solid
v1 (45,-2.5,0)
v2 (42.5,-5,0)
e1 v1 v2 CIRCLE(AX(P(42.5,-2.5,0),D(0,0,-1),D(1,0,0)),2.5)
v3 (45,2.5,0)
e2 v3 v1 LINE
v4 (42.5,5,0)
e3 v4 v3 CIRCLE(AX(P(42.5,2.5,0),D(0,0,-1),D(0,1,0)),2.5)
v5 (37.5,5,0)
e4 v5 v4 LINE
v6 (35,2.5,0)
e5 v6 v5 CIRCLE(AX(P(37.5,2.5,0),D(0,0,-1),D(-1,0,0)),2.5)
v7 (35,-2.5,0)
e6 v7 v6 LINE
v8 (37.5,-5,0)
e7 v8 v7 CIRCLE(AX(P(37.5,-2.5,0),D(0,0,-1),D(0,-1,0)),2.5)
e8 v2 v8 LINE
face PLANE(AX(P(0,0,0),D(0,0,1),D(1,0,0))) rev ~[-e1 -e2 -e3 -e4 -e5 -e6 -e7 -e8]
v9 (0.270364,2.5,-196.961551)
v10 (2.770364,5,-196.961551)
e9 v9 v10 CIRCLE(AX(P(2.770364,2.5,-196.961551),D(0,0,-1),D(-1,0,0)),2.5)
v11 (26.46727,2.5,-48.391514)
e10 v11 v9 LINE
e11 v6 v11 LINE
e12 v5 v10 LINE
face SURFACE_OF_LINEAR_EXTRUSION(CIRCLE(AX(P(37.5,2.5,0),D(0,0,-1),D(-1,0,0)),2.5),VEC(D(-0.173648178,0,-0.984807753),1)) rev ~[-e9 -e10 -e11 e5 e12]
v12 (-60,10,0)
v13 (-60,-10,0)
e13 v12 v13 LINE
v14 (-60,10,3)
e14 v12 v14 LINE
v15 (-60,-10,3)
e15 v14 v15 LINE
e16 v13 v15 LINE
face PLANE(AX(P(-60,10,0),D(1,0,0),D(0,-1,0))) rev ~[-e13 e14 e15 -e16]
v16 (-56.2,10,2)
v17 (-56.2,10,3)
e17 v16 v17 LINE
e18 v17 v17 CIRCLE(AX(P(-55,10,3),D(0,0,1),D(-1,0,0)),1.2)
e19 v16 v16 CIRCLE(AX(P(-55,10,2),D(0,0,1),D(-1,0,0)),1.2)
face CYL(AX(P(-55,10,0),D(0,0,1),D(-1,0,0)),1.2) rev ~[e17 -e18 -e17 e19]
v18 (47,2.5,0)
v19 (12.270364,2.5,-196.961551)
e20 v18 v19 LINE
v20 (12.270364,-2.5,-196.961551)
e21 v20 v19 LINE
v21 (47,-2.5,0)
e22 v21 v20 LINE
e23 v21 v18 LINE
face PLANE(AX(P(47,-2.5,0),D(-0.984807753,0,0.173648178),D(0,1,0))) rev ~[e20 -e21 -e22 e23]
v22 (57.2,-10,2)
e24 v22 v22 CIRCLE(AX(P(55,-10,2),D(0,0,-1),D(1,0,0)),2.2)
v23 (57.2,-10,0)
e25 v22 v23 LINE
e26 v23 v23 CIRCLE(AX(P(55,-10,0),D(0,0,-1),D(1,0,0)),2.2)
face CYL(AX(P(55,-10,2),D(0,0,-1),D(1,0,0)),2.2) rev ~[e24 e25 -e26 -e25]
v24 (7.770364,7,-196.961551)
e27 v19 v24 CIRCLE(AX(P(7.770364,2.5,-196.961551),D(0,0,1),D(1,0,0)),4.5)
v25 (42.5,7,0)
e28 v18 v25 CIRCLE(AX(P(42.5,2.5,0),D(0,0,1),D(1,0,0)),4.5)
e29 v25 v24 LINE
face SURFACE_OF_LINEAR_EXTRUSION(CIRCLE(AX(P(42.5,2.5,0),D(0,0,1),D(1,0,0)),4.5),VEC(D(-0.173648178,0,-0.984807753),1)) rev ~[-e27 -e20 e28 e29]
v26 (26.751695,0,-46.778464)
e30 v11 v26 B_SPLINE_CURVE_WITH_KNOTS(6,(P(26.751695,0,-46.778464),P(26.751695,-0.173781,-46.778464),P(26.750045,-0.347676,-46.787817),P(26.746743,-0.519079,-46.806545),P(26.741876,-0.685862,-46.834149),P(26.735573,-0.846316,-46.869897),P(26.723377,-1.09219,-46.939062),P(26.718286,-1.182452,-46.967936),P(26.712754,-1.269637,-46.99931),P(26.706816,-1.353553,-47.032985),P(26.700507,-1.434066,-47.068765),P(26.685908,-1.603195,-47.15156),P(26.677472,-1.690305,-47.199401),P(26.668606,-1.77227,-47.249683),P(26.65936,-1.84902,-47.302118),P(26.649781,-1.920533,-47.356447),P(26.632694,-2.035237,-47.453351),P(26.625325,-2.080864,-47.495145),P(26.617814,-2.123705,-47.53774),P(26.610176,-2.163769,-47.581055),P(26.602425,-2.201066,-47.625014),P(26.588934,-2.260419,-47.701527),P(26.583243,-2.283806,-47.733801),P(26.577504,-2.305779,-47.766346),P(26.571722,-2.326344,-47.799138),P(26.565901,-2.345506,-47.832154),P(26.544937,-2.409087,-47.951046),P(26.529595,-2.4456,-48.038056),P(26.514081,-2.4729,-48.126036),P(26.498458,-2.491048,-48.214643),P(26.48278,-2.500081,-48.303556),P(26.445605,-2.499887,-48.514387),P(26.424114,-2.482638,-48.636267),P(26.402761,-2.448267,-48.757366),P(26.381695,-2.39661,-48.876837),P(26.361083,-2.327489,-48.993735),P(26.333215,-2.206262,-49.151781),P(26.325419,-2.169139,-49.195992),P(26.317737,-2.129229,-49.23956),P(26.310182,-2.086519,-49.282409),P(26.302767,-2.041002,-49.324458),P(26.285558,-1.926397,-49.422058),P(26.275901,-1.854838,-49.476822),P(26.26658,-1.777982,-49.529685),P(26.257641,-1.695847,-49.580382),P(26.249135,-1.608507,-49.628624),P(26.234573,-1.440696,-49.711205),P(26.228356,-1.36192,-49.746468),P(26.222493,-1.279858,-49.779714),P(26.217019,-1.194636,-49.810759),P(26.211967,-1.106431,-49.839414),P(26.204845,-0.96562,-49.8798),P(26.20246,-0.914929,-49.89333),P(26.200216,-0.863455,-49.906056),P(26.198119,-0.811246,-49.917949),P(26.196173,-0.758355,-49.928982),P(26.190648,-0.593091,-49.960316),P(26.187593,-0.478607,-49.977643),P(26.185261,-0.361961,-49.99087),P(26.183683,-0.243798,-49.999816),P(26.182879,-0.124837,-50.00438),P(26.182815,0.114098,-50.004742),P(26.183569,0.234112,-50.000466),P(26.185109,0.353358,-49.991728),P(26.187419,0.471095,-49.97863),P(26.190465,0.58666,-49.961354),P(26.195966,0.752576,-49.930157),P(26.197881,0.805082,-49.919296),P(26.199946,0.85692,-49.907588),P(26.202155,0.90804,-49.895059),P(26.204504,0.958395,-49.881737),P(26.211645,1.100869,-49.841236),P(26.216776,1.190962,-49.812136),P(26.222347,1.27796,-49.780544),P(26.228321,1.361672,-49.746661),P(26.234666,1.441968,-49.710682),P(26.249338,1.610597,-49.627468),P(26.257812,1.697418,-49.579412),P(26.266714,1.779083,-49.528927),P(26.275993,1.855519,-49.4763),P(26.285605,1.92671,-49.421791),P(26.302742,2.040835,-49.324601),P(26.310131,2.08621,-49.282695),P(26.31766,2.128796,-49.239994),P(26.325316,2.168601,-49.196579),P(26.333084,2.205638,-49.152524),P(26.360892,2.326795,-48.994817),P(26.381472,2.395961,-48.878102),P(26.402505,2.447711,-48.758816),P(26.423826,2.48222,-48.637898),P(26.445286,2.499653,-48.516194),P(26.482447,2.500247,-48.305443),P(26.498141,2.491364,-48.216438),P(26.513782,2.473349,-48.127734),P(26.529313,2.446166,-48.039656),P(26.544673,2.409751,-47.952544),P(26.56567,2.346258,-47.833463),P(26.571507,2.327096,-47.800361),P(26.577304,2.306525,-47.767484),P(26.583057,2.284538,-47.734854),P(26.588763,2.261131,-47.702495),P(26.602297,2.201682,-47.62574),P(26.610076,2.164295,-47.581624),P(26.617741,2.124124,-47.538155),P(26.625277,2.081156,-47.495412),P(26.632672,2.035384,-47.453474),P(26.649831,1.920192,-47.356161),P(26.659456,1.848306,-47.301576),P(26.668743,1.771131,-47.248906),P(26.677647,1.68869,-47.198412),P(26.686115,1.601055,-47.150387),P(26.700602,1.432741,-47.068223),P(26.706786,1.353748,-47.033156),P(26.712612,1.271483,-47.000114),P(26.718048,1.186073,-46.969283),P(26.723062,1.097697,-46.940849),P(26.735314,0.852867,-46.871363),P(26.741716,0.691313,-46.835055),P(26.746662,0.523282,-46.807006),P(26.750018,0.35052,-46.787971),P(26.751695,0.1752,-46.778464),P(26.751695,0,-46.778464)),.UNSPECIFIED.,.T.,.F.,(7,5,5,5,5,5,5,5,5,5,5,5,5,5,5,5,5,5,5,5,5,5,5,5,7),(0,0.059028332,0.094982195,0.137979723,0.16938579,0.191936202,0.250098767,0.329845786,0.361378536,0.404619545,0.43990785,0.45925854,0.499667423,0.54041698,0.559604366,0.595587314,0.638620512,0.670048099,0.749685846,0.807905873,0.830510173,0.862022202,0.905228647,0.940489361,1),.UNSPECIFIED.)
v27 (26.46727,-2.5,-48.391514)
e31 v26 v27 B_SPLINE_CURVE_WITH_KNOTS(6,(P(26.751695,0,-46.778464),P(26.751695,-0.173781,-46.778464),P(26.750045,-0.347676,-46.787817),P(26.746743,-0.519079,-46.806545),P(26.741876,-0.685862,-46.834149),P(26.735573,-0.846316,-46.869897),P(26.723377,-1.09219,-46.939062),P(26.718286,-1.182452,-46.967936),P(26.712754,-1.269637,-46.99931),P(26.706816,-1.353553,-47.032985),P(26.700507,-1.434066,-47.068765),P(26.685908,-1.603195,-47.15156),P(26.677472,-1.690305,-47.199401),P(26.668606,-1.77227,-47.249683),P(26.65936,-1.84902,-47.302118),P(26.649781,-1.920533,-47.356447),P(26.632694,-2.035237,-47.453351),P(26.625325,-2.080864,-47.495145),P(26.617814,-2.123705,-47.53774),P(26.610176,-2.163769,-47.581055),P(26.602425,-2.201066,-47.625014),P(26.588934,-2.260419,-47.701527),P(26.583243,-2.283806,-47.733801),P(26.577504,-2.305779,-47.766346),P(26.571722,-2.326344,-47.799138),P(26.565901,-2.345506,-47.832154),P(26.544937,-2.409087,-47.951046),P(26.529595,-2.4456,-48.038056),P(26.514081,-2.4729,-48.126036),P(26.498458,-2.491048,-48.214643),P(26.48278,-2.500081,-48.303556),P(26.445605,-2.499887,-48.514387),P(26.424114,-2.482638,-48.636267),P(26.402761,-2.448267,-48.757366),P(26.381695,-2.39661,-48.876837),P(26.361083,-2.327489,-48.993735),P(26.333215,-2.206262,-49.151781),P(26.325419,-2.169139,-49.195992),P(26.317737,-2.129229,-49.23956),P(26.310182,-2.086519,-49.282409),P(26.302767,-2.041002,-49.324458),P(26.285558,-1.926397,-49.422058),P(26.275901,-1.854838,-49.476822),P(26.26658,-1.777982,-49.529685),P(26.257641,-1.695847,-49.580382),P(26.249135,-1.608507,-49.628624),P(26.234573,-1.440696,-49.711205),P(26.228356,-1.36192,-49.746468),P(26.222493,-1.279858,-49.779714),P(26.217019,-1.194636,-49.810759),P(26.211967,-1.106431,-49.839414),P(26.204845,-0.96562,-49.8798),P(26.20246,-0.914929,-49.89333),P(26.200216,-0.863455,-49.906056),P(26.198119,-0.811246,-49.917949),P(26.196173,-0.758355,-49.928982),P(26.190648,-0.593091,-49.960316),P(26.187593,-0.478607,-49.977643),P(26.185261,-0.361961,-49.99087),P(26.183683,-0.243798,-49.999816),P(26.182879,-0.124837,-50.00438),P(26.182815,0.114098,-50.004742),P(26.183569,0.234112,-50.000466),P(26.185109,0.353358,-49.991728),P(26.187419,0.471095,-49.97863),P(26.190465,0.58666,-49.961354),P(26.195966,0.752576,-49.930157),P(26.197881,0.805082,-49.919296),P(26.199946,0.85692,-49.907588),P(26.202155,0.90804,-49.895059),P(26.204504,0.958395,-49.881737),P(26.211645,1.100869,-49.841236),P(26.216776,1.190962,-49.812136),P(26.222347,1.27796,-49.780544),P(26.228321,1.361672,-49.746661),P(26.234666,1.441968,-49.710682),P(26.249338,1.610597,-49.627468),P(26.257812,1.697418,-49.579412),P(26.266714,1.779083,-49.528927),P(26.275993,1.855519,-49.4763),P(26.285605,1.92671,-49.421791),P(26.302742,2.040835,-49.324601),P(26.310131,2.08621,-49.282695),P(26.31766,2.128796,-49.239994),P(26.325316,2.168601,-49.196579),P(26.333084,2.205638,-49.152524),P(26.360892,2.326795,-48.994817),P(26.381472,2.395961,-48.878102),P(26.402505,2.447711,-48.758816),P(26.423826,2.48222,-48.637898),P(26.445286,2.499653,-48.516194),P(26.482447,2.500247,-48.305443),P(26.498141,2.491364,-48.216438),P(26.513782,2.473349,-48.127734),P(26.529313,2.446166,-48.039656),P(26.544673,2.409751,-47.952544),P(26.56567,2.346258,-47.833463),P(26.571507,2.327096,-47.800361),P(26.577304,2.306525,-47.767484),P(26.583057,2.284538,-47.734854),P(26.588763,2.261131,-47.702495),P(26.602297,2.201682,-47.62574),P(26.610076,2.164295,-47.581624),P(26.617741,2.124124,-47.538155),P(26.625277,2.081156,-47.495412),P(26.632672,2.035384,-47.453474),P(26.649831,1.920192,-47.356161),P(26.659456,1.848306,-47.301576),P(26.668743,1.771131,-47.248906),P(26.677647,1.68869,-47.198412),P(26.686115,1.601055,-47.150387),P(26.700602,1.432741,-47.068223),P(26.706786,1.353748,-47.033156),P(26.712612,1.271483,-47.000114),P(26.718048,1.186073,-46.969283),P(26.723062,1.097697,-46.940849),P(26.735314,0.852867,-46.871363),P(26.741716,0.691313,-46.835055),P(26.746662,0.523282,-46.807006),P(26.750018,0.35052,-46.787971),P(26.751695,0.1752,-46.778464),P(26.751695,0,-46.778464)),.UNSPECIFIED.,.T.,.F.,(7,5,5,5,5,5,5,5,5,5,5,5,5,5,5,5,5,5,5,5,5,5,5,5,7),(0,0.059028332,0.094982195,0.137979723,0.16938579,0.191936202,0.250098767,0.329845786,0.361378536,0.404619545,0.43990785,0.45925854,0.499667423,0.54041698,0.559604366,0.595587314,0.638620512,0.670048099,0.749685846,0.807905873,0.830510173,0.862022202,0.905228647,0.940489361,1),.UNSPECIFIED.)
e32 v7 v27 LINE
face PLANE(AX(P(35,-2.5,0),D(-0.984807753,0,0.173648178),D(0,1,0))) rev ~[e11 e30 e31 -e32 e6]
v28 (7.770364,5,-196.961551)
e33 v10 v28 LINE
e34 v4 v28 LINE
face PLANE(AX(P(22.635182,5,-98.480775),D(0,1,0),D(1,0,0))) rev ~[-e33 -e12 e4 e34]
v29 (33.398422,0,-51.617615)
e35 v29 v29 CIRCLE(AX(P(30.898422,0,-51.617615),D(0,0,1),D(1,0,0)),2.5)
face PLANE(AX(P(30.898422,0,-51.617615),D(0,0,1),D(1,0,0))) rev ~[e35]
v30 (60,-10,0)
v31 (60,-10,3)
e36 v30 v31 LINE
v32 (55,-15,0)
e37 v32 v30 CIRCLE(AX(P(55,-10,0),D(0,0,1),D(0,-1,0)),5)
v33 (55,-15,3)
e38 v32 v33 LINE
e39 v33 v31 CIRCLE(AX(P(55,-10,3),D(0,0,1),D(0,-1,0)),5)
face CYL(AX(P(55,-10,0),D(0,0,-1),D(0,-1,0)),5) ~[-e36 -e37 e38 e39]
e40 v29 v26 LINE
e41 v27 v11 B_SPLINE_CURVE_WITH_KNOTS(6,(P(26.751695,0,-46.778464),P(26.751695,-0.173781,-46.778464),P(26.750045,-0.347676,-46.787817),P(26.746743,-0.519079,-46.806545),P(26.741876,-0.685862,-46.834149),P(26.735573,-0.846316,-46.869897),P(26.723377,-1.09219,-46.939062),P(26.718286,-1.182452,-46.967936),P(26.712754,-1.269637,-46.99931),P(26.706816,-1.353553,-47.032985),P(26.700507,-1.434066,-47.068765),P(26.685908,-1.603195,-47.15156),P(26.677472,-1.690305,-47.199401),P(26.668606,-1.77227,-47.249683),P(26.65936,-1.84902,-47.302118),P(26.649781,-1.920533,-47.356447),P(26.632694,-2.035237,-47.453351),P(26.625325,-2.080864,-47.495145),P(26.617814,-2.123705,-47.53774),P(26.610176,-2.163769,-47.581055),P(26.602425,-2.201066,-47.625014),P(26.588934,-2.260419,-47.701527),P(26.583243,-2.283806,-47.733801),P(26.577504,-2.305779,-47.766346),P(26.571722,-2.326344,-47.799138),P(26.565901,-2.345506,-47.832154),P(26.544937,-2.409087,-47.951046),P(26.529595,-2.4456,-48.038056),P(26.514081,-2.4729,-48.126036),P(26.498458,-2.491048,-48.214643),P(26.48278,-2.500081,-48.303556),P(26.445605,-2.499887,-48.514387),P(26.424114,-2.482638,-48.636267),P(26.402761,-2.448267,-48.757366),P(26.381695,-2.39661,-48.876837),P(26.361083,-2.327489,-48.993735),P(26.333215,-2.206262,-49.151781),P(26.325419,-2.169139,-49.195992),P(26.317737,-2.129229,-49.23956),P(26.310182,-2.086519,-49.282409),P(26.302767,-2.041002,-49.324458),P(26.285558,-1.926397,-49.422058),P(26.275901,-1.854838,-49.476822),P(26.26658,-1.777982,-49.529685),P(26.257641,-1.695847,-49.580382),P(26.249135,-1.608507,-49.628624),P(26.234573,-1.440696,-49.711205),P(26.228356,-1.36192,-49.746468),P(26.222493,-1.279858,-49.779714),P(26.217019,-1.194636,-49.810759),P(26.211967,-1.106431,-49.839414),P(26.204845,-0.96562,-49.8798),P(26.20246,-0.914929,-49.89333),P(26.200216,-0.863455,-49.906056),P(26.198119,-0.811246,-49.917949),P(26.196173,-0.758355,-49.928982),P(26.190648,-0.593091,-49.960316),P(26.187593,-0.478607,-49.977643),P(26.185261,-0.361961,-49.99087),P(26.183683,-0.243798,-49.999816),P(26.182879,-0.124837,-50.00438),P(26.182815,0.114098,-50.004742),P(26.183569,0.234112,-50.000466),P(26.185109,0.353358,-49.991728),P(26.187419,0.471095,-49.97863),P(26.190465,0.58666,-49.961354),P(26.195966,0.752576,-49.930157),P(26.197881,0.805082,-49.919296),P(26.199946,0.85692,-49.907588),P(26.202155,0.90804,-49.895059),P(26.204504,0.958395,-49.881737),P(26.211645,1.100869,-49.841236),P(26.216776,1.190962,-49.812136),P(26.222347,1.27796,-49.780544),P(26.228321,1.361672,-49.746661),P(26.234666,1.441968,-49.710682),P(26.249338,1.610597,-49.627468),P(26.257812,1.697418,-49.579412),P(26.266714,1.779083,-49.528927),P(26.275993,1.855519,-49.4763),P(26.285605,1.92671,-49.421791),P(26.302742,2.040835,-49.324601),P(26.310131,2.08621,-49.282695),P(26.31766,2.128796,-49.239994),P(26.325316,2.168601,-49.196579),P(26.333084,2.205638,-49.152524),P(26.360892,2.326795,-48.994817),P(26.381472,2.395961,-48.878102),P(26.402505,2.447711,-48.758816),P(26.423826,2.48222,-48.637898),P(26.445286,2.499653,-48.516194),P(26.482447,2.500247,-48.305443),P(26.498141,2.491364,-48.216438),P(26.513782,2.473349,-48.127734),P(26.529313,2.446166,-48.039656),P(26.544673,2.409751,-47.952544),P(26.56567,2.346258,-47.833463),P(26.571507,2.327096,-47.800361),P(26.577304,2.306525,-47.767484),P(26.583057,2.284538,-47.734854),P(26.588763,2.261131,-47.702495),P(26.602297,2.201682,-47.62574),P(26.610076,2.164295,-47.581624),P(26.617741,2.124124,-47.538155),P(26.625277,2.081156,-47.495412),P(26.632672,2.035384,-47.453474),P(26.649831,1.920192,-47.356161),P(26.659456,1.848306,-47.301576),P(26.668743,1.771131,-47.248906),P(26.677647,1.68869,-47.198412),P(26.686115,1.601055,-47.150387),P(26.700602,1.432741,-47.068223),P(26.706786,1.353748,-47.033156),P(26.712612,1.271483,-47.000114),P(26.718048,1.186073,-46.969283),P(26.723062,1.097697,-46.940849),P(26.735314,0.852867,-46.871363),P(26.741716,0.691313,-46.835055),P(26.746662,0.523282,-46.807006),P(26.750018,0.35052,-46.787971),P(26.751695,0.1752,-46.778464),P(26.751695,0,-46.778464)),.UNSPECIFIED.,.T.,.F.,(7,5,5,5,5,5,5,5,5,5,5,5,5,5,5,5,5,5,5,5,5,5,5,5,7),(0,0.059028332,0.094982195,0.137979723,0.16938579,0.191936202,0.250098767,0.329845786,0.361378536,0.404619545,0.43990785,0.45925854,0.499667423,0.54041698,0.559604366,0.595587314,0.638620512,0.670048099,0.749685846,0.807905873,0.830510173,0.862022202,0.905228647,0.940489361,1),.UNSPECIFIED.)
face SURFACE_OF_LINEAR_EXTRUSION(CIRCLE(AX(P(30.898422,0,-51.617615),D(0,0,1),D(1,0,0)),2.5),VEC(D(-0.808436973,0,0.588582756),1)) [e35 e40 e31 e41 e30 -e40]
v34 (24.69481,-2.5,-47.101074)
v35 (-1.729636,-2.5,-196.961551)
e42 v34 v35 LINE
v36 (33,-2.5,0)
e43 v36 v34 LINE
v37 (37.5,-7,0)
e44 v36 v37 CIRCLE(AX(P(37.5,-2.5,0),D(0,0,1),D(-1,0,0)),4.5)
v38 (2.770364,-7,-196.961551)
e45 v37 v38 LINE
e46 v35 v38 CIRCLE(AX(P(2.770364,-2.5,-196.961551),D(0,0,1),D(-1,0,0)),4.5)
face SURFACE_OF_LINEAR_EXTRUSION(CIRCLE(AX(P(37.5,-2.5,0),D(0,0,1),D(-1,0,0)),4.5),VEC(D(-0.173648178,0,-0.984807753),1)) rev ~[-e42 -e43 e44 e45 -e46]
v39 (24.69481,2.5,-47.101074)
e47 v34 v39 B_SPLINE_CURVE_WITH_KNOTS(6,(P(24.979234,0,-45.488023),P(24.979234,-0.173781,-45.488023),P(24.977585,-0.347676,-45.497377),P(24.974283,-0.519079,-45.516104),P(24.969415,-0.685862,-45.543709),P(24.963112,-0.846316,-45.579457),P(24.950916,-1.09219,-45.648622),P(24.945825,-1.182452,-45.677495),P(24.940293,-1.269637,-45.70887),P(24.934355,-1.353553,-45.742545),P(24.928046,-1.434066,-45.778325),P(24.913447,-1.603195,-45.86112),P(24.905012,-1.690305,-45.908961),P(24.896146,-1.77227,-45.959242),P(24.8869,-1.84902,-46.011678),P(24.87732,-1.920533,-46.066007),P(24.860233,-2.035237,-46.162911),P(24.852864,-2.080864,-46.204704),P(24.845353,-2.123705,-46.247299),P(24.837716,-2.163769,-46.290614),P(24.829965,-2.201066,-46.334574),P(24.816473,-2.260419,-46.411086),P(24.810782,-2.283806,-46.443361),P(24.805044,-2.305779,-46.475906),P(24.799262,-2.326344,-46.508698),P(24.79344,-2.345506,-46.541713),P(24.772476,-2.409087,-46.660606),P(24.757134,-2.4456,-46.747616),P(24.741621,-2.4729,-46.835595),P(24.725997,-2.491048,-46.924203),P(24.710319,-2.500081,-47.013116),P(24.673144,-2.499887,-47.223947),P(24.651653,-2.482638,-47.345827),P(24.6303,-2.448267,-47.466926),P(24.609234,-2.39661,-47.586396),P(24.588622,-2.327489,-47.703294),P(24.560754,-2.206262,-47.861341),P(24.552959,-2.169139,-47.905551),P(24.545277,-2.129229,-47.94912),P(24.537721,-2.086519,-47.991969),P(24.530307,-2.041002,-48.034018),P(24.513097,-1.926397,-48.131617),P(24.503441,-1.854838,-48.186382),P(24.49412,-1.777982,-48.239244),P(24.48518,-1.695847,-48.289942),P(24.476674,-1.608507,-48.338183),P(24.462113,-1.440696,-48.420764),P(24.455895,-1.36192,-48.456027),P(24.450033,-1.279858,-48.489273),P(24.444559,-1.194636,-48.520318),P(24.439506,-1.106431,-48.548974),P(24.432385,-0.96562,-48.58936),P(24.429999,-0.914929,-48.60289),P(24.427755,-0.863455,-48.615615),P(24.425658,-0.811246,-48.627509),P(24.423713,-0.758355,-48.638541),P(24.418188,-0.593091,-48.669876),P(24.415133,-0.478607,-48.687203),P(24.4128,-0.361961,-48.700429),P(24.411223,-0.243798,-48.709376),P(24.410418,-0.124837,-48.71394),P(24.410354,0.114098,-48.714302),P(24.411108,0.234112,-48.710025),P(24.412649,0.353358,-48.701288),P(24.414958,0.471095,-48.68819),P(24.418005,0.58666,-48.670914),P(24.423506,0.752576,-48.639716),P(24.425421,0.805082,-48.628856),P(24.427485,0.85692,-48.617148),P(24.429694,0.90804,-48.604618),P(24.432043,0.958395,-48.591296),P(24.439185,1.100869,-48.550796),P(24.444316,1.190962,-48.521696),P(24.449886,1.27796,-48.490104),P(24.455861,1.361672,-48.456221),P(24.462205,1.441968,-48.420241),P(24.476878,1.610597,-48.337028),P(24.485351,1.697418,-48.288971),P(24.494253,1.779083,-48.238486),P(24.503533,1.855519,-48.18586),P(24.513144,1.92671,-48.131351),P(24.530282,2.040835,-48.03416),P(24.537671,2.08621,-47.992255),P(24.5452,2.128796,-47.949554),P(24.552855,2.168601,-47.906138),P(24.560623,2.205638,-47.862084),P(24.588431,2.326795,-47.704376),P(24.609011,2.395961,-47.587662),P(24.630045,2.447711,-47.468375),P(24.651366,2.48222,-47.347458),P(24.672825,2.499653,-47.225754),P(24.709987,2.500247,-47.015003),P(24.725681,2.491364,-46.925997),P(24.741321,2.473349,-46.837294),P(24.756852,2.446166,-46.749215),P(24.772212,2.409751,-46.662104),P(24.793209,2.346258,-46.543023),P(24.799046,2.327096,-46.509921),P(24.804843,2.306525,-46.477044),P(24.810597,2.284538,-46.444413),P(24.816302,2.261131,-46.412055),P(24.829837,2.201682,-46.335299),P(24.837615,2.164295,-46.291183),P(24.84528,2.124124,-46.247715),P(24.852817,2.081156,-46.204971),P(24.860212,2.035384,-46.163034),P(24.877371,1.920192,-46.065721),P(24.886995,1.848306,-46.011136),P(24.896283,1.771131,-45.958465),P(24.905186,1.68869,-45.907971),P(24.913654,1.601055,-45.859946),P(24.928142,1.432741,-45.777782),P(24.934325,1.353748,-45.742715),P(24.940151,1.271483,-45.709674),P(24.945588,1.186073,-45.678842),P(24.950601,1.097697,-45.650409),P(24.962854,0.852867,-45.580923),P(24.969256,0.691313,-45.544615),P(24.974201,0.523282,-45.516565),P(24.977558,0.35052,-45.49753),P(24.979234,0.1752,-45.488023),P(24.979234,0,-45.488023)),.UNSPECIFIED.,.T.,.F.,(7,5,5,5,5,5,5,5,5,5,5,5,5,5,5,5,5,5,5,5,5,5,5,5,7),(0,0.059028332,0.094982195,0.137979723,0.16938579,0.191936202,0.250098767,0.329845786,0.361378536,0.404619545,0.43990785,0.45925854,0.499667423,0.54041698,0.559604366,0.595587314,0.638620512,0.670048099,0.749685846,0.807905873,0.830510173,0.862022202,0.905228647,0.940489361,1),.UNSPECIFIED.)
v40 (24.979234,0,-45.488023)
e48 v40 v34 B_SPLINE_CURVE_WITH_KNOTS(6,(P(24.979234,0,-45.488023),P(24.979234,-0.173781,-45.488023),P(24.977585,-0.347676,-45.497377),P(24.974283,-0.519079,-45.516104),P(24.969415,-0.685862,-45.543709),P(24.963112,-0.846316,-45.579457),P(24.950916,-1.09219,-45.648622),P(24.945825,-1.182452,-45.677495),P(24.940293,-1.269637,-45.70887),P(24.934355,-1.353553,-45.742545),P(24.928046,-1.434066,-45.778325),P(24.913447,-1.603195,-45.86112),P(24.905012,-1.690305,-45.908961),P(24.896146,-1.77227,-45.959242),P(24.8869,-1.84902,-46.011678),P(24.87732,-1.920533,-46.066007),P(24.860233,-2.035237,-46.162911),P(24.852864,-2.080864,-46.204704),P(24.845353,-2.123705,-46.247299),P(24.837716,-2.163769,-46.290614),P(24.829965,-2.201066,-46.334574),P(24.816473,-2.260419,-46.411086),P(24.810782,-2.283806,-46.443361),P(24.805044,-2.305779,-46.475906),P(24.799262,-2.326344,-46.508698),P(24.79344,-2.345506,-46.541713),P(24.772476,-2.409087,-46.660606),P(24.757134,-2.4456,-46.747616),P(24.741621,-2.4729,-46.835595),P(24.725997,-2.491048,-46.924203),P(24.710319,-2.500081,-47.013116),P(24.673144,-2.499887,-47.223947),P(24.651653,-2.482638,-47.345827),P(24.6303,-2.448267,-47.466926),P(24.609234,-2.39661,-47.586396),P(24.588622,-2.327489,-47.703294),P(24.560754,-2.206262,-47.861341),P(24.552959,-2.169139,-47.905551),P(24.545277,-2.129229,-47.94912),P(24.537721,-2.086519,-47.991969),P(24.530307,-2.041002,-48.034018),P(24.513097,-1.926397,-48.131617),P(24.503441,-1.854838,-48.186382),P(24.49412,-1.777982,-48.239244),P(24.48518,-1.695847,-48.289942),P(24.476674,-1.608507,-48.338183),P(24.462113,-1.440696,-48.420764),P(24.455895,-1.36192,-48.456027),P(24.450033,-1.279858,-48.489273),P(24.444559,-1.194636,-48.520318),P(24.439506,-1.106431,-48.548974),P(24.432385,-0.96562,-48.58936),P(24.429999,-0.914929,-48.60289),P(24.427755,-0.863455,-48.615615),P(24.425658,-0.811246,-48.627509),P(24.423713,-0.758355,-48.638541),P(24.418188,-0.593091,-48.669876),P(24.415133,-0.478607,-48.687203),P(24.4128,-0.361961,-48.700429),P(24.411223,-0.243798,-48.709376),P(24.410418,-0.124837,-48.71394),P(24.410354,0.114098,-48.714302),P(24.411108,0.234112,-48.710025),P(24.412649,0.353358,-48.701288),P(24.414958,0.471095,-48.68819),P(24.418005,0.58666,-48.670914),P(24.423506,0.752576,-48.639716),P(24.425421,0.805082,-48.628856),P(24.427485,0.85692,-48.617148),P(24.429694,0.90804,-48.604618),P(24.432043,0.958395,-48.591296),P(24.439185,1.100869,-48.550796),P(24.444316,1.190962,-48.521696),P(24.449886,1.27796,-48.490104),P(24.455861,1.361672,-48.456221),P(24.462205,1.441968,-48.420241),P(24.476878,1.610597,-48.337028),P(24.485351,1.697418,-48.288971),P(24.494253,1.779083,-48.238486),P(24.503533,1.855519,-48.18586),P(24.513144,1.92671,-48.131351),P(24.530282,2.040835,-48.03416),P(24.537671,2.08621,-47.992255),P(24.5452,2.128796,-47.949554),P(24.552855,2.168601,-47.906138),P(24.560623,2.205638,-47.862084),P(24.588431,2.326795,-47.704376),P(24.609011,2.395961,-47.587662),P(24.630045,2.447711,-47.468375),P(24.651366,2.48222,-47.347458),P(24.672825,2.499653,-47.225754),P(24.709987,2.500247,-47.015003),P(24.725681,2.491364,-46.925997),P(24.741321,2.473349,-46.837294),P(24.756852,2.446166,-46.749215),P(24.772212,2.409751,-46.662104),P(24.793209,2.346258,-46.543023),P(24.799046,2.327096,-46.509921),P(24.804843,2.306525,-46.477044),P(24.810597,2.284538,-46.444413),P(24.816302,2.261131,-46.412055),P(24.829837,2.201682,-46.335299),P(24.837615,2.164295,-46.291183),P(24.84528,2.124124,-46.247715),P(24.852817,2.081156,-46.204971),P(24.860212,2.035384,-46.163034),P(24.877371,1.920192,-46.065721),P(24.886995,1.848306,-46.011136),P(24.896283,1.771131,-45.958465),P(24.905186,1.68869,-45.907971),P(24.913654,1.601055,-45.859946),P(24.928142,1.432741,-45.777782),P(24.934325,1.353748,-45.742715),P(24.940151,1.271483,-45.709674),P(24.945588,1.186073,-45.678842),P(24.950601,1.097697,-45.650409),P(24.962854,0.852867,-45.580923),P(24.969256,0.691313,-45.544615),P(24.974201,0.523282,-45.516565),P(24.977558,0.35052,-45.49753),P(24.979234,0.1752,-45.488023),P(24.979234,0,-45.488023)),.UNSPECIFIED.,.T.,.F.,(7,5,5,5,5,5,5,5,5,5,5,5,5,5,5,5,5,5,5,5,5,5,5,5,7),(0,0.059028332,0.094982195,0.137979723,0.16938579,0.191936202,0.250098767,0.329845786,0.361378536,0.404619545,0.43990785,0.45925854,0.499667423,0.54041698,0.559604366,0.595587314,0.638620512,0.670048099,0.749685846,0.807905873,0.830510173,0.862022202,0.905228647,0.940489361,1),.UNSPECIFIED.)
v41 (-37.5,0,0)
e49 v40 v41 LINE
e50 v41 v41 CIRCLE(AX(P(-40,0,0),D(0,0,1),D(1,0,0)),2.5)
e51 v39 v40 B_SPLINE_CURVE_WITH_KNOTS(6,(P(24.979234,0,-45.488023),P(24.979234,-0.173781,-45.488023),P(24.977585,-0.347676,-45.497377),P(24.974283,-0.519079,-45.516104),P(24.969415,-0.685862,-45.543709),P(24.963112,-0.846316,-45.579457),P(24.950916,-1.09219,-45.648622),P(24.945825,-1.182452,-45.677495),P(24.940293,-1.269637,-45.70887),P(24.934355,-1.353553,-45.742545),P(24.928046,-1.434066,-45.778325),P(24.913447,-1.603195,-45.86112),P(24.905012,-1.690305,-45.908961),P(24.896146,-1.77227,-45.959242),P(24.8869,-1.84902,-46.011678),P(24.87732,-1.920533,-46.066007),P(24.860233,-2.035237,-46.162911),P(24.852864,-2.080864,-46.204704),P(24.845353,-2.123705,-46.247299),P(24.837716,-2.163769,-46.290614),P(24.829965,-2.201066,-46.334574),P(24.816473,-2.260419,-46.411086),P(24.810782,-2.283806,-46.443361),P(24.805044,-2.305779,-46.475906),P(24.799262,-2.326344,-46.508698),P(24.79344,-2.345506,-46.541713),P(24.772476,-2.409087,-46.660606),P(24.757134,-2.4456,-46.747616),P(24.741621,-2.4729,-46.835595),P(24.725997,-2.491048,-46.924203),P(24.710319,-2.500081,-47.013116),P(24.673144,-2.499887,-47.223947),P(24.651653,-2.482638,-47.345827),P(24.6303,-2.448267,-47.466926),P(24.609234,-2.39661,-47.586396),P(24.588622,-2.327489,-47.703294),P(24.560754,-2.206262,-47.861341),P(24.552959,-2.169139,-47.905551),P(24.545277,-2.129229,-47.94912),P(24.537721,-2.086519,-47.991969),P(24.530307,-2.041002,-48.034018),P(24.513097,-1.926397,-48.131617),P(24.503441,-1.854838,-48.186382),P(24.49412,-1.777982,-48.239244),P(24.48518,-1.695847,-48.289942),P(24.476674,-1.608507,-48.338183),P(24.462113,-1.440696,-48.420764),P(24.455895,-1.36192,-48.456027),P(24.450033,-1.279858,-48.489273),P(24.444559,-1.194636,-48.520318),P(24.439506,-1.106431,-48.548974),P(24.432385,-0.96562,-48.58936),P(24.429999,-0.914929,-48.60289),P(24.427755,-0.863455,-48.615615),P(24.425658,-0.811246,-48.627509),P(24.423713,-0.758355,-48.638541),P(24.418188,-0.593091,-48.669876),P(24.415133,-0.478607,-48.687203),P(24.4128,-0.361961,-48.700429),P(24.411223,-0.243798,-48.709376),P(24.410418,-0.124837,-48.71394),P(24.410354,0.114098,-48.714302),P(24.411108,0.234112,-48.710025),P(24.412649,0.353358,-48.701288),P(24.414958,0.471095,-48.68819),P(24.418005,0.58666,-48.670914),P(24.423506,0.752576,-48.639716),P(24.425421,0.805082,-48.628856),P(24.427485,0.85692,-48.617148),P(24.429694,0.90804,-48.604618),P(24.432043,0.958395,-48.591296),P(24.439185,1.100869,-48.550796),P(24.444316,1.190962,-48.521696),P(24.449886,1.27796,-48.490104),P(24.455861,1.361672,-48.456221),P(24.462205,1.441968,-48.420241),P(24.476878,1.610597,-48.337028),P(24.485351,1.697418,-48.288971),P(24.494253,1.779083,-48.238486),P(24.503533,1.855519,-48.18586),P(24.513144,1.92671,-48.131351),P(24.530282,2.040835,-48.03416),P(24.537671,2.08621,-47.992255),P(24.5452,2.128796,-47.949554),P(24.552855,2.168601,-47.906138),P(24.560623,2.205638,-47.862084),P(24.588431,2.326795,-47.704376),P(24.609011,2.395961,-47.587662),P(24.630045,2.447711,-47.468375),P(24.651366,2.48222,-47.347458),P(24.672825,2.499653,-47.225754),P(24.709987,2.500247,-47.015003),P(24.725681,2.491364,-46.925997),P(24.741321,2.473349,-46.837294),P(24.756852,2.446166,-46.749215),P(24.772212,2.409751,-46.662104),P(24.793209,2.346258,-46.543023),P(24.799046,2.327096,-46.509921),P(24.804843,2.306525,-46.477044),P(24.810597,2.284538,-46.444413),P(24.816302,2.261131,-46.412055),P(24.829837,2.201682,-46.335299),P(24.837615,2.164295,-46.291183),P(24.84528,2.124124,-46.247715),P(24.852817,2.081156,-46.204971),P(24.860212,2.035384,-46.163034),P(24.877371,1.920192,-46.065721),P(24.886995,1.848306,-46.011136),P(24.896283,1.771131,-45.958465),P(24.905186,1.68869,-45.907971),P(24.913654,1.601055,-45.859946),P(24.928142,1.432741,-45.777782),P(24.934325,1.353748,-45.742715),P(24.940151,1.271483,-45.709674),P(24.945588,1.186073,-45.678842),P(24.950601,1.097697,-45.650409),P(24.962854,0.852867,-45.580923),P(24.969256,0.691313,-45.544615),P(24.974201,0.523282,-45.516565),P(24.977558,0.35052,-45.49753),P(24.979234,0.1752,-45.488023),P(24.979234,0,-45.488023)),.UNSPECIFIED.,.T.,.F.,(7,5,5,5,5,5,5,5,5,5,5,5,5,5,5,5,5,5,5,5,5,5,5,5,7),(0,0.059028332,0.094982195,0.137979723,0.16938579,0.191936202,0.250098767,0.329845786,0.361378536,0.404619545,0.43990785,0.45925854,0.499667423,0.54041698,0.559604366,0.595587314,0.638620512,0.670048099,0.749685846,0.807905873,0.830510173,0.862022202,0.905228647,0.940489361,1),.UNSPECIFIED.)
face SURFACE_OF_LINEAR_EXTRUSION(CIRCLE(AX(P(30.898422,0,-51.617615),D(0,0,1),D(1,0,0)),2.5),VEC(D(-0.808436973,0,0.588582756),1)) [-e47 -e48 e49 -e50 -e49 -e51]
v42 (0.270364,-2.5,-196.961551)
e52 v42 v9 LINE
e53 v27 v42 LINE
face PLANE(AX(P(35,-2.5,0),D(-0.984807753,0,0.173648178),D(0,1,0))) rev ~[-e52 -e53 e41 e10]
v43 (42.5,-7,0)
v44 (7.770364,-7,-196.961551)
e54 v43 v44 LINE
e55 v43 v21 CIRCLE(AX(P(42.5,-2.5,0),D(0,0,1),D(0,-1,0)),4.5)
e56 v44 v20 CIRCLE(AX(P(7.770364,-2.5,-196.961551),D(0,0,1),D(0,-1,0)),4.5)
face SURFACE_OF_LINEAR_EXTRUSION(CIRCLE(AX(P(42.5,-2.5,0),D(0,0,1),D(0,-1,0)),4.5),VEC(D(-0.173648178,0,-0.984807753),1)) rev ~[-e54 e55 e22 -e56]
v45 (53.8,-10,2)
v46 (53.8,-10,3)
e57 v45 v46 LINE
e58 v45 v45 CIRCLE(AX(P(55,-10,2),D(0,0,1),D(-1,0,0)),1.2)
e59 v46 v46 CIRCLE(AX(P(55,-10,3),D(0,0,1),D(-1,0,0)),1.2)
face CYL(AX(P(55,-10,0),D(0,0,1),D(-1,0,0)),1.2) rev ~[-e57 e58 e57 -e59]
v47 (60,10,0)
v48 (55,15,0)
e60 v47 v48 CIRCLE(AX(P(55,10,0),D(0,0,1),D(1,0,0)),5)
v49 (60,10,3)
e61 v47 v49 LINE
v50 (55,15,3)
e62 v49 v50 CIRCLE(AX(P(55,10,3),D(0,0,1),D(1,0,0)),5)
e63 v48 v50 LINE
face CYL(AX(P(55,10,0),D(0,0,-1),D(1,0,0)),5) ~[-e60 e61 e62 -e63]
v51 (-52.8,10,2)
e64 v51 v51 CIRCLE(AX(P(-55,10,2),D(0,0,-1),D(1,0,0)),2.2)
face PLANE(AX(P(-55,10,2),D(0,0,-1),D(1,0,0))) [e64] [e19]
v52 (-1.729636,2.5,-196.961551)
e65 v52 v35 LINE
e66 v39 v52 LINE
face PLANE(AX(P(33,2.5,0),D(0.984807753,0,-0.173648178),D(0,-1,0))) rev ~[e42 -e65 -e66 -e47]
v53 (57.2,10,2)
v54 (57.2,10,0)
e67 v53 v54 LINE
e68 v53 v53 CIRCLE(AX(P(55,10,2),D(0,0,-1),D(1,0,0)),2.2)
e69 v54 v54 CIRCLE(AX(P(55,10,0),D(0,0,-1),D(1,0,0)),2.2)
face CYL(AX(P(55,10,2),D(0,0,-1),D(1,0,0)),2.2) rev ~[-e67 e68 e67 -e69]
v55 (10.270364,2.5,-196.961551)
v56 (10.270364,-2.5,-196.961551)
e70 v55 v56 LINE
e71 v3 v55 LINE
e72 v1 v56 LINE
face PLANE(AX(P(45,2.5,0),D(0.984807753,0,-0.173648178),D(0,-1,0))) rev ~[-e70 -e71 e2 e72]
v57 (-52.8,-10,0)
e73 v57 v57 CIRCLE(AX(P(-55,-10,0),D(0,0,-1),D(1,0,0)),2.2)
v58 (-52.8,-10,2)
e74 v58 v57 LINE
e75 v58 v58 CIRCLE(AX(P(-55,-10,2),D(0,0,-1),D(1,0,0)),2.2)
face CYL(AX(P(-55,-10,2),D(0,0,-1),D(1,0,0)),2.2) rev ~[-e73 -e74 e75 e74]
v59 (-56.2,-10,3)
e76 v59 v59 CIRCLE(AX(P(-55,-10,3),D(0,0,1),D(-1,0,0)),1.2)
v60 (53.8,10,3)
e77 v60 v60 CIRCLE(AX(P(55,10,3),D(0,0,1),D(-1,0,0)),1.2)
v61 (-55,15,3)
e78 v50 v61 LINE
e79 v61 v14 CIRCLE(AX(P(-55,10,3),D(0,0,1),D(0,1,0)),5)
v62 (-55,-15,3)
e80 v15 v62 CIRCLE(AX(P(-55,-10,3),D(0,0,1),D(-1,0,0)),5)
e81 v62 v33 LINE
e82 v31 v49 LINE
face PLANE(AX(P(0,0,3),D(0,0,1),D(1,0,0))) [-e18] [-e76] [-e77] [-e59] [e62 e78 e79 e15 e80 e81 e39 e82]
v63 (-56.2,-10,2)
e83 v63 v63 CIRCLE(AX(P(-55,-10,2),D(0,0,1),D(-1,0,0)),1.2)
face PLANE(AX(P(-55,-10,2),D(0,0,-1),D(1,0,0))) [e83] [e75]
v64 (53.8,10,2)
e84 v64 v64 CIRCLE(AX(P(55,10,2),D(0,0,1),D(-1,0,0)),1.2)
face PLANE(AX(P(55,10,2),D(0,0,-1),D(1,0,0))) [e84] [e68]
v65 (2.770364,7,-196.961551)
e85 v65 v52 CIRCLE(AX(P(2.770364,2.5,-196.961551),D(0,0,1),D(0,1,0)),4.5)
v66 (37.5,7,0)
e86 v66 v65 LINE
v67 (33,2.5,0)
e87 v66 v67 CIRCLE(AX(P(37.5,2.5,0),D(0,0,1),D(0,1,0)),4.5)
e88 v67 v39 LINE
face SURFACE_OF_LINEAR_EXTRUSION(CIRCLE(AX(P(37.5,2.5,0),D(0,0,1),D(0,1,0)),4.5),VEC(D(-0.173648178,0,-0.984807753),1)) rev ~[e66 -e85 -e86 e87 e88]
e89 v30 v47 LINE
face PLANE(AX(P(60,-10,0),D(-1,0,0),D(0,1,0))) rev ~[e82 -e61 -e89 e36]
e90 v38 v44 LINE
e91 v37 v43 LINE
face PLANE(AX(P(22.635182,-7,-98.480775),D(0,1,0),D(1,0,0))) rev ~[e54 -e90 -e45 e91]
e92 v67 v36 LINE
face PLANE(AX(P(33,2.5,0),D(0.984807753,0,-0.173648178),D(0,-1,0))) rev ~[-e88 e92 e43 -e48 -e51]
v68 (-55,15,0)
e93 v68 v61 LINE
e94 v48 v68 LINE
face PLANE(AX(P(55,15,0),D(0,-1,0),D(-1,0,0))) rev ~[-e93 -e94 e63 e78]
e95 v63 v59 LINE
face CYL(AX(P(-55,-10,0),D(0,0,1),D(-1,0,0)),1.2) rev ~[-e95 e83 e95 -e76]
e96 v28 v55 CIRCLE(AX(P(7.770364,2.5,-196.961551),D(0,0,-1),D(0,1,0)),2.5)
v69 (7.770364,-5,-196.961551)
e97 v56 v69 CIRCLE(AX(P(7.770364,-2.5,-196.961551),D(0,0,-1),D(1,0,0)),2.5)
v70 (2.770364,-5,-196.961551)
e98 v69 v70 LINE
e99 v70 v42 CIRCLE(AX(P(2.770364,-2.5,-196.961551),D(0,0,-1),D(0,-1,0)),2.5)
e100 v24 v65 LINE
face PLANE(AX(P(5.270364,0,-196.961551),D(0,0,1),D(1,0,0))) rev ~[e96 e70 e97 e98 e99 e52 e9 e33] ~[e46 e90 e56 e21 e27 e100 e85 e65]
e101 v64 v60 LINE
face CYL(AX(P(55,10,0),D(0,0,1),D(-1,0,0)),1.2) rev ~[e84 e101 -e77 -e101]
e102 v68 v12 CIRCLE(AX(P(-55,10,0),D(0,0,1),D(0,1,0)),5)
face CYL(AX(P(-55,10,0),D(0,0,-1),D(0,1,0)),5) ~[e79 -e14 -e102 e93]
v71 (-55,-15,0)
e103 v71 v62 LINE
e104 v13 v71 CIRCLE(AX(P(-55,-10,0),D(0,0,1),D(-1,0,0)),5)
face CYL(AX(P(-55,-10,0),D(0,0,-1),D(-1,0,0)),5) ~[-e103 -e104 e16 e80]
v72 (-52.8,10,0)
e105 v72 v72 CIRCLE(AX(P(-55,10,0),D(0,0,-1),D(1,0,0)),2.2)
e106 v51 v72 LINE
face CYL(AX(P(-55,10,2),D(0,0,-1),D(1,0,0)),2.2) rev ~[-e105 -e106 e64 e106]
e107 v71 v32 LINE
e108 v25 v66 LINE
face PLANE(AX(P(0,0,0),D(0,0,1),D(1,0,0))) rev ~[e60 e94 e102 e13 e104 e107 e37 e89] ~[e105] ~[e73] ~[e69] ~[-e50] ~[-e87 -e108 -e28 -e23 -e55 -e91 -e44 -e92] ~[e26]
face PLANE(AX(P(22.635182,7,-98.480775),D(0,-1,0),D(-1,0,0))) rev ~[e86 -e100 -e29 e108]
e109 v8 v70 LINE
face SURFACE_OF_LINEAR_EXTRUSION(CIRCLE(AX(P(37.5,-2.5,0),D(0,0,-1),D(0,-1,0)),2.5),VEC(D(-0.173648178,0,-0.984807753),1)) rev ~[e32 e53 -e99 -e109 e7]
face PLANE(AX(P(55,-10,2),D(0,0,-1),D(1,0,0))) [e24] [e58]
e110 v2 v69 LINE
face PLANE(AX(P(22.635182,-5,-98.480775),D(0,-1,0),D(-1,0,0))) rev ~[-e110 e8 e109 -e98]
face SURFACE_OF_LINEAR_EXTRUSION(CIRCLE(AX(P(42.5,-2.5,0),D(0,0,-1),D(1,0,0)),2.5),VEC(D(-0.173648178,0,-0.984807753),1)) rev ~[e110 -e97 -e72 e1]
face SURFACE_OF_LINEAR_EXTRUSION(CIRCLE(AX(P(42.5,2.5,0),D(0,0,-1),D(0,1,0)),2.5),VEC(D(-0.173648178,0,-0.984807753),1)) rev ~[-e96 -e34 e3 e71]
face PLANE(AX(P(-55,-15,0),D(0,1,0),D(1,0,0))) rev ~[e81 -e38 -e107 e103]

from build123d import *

# Parameters (mm, degrees)
F1_R           = 2.5
F2_DEPTH       = 3
F3_D           = 2.4
F3_CBORE_D     = 4.4
F3_CBORE_DEPTH = 2


with BuildPart() as f2:
    # F1 (on Top) → F2 (new body)
    with BuildSketch(Plane.XY):
        with BuildLine():
            Line((-55, -15), (55, -15))
            ThreePointArc((55, -15), (58.5355339059, -13.5355339059), (60, -10))
            Line((60, -10), (60, 10))
            ThreePointArc((60, 10), (58.5355339059, 13.5355339059), (55, 15))
            Line((55, 15), (-55, 15))
            ThreePointArc((-55, 15), (-58.5355339059, 13.5355339059), (-60, 10))
            Line((-60, 10), (-60, -10))
            ThreePointArc((-60, -10), (-58.5355339059, -13.5355339059), (-55, -15))
        make_face()
        with Locations((-40, 0)):
            Circle(F1_R, mode=Mode.SUBTRACT)
        with BuildLine():
            ThreePointArc((42.5, 7), (45.6819805153, 5.6819805153), (47, 2.5))
            Line((47, 2.5), (47, -2.5))
            ThreePointArc((47, -2.5), (45.6819805153, -5.6819805153), (42.5, -7))
            Line((42.5, -7), (37.5, -7))
            ThreePointArc((37.5, -7), (34.3180194847, -5.6819805153), (33, -2.5))
            Line((33, -2.5), (33, 2.5))
            ThreePointArc((33, 2.5), (34.3180194847, 5.6819805153), (37.5, 7))
            Line((37.5, 7), (42.5, 7))
        make_face(mode=Mode.SUBTRACT)
        with BuildLine():
            Line((47, -2.5), (47, 2.5))
            ThreePointArc((47, 2.5), (45.6819805153, 5.6819805153), (42.5, 7))
            Line((42.5, 7), (37.5, 7))
            ThreePointArc((37.5, 7), (34.3180194847, 5.6819805153), (33, 2.5))
            Line((33, 2.5), (33, -2.5))
            ThreePointArc((33, -2.5), (34.3180194847, -5.6819805153), (37.5, -7))
            Line((37.5, -7), (42.5, -7))
            ThreePointArc((42.5, -7), (45.6819805153, -5.6819805153), (47, -2.5))
        make_face()
        with BuildLine():
            ThreePointArc((35, 2.5), (35.732233047, 4.267766953), (37.5, 5))
            Line((37.5, 5), (42.5, 5))
            ThreePointArc((42.5, 5), (44.267766953, 4.267766953), (45, 2.5))
            Line((45, 2.5), (45, -2.5))
            ThreePointArc((45, -2.5), (44.267766953, -4.267766953), (42.5, -5))
            Line((42.5, -5), (37.5, -5))
            ThreePointArc((37.5, -5), (35.732233047, -4.267766953), (35, -2.5))
            Line((35, -2.5), (35, 2.5))
        make_face(mode=Mode.SUBTRACT)
        with BuildLine():
            Line((42.5, 5), (37.5, 5))
            ThreePointArc((37.5, 5), (35.732233047, 4.267766953), (35, 2.5))
            Line((35, 2.5), (35, -2.5))
            ThreePointArc((35, -2.5), (35.732233047, -4.267766953), (37.5, -5))
            Line((37.5, -5), (42.5, -5))
            ThreePointArc((42.5, -5), (44.267766953, -4.267766953), (45, -2.5))
            Line((45, -2.5), (45, 2.5))
            ThreePointArc((45, 2.5), (44.267766953, 4.267766953), (42.5, 5))
        make_face()
        with Locations((-40, 0)):
            Circle(F1_R)
    extrude(amount=F2_DEPTH)

    # F3 (through all)
    with Locations(Plane(origin=(0, 0, 0), x_dir=(1, 0, 0), z_dir=(0, 0, -1))):
        with Locations((55, -10), (-55, -10), (-55, 10), (55, 10)):
            CounterBoreHole(F3_D / 2, F3_CBORE_D / 2, F3_CBORE_DEPTH)

    # F5: sweep along a path in F4
    with BuildLine(Plane.XZ) as f5_path:
        Line((40, 0), (5.2703644666, -196.9615506024))
    # F1 (on Top) → F5 (sweep)
    with BuildSketch(Plane.XY):
        with BuildLine():
            Line((47, -2.5), (47, 2.5))
            ThreePointArc((47, 2.5), (45.6819805153, 5.6819805153), (42.5, 7))
            Line((42.5, 7), (37.5, 7))
            ThreePointArc((37.5, 7), (34.3180194847, 5.6819805153), (33, 2.5))
            Line((33, 2.5), (33, -2.5))
            ThreePointArc((33, -2.5), (34.3180194847, -5.6819805153), (37.5, -7))
            Line((37.5, -7), (42.5, -7))
            ThreePointArc((42.5, -7), (45.6819805153, -5.6819805153), (47, -2.5))
        make_face()
        with BuildLine():
            ThreePointArc((35, 2.5), (35.732233047, 4.267766953), (37.5, 5))
            Line((37.5, 5), (42.5, 5))
            ThreePointArc((42.5, 5), (44.267766953, 4.267766953), (45, 2.5))
            Line((45, 2.5), (45, -2.5))
            ThreePointArc((45, -2.5), (44.267766953, -4.267766953), (42.5, -5))
            Line((42.5, -5), (37.5, -5))
            ThreePointArc((37.5, -5), (35.732233047, -4.267766953), (35, -2.5))
            Line((35, -2.5), (35, 2.5))
        make_face(mode=Mode.SUBTRACT)
    sweep(path=f5_path.line)

    # F6: sweep along a path in F4
    with BuildLine(Plane.XZ) as f6_path:
        Line((30.898421792, -51.6176150207), (-40, 0))
    # F1 (on Top) → F6 (sweep)
    with BuildSketch(Plane.XY):
        with Locations((-40, 0)):
            Circle(F1_R)
    sweep(path=f6_path.line)


solid = f2.part
